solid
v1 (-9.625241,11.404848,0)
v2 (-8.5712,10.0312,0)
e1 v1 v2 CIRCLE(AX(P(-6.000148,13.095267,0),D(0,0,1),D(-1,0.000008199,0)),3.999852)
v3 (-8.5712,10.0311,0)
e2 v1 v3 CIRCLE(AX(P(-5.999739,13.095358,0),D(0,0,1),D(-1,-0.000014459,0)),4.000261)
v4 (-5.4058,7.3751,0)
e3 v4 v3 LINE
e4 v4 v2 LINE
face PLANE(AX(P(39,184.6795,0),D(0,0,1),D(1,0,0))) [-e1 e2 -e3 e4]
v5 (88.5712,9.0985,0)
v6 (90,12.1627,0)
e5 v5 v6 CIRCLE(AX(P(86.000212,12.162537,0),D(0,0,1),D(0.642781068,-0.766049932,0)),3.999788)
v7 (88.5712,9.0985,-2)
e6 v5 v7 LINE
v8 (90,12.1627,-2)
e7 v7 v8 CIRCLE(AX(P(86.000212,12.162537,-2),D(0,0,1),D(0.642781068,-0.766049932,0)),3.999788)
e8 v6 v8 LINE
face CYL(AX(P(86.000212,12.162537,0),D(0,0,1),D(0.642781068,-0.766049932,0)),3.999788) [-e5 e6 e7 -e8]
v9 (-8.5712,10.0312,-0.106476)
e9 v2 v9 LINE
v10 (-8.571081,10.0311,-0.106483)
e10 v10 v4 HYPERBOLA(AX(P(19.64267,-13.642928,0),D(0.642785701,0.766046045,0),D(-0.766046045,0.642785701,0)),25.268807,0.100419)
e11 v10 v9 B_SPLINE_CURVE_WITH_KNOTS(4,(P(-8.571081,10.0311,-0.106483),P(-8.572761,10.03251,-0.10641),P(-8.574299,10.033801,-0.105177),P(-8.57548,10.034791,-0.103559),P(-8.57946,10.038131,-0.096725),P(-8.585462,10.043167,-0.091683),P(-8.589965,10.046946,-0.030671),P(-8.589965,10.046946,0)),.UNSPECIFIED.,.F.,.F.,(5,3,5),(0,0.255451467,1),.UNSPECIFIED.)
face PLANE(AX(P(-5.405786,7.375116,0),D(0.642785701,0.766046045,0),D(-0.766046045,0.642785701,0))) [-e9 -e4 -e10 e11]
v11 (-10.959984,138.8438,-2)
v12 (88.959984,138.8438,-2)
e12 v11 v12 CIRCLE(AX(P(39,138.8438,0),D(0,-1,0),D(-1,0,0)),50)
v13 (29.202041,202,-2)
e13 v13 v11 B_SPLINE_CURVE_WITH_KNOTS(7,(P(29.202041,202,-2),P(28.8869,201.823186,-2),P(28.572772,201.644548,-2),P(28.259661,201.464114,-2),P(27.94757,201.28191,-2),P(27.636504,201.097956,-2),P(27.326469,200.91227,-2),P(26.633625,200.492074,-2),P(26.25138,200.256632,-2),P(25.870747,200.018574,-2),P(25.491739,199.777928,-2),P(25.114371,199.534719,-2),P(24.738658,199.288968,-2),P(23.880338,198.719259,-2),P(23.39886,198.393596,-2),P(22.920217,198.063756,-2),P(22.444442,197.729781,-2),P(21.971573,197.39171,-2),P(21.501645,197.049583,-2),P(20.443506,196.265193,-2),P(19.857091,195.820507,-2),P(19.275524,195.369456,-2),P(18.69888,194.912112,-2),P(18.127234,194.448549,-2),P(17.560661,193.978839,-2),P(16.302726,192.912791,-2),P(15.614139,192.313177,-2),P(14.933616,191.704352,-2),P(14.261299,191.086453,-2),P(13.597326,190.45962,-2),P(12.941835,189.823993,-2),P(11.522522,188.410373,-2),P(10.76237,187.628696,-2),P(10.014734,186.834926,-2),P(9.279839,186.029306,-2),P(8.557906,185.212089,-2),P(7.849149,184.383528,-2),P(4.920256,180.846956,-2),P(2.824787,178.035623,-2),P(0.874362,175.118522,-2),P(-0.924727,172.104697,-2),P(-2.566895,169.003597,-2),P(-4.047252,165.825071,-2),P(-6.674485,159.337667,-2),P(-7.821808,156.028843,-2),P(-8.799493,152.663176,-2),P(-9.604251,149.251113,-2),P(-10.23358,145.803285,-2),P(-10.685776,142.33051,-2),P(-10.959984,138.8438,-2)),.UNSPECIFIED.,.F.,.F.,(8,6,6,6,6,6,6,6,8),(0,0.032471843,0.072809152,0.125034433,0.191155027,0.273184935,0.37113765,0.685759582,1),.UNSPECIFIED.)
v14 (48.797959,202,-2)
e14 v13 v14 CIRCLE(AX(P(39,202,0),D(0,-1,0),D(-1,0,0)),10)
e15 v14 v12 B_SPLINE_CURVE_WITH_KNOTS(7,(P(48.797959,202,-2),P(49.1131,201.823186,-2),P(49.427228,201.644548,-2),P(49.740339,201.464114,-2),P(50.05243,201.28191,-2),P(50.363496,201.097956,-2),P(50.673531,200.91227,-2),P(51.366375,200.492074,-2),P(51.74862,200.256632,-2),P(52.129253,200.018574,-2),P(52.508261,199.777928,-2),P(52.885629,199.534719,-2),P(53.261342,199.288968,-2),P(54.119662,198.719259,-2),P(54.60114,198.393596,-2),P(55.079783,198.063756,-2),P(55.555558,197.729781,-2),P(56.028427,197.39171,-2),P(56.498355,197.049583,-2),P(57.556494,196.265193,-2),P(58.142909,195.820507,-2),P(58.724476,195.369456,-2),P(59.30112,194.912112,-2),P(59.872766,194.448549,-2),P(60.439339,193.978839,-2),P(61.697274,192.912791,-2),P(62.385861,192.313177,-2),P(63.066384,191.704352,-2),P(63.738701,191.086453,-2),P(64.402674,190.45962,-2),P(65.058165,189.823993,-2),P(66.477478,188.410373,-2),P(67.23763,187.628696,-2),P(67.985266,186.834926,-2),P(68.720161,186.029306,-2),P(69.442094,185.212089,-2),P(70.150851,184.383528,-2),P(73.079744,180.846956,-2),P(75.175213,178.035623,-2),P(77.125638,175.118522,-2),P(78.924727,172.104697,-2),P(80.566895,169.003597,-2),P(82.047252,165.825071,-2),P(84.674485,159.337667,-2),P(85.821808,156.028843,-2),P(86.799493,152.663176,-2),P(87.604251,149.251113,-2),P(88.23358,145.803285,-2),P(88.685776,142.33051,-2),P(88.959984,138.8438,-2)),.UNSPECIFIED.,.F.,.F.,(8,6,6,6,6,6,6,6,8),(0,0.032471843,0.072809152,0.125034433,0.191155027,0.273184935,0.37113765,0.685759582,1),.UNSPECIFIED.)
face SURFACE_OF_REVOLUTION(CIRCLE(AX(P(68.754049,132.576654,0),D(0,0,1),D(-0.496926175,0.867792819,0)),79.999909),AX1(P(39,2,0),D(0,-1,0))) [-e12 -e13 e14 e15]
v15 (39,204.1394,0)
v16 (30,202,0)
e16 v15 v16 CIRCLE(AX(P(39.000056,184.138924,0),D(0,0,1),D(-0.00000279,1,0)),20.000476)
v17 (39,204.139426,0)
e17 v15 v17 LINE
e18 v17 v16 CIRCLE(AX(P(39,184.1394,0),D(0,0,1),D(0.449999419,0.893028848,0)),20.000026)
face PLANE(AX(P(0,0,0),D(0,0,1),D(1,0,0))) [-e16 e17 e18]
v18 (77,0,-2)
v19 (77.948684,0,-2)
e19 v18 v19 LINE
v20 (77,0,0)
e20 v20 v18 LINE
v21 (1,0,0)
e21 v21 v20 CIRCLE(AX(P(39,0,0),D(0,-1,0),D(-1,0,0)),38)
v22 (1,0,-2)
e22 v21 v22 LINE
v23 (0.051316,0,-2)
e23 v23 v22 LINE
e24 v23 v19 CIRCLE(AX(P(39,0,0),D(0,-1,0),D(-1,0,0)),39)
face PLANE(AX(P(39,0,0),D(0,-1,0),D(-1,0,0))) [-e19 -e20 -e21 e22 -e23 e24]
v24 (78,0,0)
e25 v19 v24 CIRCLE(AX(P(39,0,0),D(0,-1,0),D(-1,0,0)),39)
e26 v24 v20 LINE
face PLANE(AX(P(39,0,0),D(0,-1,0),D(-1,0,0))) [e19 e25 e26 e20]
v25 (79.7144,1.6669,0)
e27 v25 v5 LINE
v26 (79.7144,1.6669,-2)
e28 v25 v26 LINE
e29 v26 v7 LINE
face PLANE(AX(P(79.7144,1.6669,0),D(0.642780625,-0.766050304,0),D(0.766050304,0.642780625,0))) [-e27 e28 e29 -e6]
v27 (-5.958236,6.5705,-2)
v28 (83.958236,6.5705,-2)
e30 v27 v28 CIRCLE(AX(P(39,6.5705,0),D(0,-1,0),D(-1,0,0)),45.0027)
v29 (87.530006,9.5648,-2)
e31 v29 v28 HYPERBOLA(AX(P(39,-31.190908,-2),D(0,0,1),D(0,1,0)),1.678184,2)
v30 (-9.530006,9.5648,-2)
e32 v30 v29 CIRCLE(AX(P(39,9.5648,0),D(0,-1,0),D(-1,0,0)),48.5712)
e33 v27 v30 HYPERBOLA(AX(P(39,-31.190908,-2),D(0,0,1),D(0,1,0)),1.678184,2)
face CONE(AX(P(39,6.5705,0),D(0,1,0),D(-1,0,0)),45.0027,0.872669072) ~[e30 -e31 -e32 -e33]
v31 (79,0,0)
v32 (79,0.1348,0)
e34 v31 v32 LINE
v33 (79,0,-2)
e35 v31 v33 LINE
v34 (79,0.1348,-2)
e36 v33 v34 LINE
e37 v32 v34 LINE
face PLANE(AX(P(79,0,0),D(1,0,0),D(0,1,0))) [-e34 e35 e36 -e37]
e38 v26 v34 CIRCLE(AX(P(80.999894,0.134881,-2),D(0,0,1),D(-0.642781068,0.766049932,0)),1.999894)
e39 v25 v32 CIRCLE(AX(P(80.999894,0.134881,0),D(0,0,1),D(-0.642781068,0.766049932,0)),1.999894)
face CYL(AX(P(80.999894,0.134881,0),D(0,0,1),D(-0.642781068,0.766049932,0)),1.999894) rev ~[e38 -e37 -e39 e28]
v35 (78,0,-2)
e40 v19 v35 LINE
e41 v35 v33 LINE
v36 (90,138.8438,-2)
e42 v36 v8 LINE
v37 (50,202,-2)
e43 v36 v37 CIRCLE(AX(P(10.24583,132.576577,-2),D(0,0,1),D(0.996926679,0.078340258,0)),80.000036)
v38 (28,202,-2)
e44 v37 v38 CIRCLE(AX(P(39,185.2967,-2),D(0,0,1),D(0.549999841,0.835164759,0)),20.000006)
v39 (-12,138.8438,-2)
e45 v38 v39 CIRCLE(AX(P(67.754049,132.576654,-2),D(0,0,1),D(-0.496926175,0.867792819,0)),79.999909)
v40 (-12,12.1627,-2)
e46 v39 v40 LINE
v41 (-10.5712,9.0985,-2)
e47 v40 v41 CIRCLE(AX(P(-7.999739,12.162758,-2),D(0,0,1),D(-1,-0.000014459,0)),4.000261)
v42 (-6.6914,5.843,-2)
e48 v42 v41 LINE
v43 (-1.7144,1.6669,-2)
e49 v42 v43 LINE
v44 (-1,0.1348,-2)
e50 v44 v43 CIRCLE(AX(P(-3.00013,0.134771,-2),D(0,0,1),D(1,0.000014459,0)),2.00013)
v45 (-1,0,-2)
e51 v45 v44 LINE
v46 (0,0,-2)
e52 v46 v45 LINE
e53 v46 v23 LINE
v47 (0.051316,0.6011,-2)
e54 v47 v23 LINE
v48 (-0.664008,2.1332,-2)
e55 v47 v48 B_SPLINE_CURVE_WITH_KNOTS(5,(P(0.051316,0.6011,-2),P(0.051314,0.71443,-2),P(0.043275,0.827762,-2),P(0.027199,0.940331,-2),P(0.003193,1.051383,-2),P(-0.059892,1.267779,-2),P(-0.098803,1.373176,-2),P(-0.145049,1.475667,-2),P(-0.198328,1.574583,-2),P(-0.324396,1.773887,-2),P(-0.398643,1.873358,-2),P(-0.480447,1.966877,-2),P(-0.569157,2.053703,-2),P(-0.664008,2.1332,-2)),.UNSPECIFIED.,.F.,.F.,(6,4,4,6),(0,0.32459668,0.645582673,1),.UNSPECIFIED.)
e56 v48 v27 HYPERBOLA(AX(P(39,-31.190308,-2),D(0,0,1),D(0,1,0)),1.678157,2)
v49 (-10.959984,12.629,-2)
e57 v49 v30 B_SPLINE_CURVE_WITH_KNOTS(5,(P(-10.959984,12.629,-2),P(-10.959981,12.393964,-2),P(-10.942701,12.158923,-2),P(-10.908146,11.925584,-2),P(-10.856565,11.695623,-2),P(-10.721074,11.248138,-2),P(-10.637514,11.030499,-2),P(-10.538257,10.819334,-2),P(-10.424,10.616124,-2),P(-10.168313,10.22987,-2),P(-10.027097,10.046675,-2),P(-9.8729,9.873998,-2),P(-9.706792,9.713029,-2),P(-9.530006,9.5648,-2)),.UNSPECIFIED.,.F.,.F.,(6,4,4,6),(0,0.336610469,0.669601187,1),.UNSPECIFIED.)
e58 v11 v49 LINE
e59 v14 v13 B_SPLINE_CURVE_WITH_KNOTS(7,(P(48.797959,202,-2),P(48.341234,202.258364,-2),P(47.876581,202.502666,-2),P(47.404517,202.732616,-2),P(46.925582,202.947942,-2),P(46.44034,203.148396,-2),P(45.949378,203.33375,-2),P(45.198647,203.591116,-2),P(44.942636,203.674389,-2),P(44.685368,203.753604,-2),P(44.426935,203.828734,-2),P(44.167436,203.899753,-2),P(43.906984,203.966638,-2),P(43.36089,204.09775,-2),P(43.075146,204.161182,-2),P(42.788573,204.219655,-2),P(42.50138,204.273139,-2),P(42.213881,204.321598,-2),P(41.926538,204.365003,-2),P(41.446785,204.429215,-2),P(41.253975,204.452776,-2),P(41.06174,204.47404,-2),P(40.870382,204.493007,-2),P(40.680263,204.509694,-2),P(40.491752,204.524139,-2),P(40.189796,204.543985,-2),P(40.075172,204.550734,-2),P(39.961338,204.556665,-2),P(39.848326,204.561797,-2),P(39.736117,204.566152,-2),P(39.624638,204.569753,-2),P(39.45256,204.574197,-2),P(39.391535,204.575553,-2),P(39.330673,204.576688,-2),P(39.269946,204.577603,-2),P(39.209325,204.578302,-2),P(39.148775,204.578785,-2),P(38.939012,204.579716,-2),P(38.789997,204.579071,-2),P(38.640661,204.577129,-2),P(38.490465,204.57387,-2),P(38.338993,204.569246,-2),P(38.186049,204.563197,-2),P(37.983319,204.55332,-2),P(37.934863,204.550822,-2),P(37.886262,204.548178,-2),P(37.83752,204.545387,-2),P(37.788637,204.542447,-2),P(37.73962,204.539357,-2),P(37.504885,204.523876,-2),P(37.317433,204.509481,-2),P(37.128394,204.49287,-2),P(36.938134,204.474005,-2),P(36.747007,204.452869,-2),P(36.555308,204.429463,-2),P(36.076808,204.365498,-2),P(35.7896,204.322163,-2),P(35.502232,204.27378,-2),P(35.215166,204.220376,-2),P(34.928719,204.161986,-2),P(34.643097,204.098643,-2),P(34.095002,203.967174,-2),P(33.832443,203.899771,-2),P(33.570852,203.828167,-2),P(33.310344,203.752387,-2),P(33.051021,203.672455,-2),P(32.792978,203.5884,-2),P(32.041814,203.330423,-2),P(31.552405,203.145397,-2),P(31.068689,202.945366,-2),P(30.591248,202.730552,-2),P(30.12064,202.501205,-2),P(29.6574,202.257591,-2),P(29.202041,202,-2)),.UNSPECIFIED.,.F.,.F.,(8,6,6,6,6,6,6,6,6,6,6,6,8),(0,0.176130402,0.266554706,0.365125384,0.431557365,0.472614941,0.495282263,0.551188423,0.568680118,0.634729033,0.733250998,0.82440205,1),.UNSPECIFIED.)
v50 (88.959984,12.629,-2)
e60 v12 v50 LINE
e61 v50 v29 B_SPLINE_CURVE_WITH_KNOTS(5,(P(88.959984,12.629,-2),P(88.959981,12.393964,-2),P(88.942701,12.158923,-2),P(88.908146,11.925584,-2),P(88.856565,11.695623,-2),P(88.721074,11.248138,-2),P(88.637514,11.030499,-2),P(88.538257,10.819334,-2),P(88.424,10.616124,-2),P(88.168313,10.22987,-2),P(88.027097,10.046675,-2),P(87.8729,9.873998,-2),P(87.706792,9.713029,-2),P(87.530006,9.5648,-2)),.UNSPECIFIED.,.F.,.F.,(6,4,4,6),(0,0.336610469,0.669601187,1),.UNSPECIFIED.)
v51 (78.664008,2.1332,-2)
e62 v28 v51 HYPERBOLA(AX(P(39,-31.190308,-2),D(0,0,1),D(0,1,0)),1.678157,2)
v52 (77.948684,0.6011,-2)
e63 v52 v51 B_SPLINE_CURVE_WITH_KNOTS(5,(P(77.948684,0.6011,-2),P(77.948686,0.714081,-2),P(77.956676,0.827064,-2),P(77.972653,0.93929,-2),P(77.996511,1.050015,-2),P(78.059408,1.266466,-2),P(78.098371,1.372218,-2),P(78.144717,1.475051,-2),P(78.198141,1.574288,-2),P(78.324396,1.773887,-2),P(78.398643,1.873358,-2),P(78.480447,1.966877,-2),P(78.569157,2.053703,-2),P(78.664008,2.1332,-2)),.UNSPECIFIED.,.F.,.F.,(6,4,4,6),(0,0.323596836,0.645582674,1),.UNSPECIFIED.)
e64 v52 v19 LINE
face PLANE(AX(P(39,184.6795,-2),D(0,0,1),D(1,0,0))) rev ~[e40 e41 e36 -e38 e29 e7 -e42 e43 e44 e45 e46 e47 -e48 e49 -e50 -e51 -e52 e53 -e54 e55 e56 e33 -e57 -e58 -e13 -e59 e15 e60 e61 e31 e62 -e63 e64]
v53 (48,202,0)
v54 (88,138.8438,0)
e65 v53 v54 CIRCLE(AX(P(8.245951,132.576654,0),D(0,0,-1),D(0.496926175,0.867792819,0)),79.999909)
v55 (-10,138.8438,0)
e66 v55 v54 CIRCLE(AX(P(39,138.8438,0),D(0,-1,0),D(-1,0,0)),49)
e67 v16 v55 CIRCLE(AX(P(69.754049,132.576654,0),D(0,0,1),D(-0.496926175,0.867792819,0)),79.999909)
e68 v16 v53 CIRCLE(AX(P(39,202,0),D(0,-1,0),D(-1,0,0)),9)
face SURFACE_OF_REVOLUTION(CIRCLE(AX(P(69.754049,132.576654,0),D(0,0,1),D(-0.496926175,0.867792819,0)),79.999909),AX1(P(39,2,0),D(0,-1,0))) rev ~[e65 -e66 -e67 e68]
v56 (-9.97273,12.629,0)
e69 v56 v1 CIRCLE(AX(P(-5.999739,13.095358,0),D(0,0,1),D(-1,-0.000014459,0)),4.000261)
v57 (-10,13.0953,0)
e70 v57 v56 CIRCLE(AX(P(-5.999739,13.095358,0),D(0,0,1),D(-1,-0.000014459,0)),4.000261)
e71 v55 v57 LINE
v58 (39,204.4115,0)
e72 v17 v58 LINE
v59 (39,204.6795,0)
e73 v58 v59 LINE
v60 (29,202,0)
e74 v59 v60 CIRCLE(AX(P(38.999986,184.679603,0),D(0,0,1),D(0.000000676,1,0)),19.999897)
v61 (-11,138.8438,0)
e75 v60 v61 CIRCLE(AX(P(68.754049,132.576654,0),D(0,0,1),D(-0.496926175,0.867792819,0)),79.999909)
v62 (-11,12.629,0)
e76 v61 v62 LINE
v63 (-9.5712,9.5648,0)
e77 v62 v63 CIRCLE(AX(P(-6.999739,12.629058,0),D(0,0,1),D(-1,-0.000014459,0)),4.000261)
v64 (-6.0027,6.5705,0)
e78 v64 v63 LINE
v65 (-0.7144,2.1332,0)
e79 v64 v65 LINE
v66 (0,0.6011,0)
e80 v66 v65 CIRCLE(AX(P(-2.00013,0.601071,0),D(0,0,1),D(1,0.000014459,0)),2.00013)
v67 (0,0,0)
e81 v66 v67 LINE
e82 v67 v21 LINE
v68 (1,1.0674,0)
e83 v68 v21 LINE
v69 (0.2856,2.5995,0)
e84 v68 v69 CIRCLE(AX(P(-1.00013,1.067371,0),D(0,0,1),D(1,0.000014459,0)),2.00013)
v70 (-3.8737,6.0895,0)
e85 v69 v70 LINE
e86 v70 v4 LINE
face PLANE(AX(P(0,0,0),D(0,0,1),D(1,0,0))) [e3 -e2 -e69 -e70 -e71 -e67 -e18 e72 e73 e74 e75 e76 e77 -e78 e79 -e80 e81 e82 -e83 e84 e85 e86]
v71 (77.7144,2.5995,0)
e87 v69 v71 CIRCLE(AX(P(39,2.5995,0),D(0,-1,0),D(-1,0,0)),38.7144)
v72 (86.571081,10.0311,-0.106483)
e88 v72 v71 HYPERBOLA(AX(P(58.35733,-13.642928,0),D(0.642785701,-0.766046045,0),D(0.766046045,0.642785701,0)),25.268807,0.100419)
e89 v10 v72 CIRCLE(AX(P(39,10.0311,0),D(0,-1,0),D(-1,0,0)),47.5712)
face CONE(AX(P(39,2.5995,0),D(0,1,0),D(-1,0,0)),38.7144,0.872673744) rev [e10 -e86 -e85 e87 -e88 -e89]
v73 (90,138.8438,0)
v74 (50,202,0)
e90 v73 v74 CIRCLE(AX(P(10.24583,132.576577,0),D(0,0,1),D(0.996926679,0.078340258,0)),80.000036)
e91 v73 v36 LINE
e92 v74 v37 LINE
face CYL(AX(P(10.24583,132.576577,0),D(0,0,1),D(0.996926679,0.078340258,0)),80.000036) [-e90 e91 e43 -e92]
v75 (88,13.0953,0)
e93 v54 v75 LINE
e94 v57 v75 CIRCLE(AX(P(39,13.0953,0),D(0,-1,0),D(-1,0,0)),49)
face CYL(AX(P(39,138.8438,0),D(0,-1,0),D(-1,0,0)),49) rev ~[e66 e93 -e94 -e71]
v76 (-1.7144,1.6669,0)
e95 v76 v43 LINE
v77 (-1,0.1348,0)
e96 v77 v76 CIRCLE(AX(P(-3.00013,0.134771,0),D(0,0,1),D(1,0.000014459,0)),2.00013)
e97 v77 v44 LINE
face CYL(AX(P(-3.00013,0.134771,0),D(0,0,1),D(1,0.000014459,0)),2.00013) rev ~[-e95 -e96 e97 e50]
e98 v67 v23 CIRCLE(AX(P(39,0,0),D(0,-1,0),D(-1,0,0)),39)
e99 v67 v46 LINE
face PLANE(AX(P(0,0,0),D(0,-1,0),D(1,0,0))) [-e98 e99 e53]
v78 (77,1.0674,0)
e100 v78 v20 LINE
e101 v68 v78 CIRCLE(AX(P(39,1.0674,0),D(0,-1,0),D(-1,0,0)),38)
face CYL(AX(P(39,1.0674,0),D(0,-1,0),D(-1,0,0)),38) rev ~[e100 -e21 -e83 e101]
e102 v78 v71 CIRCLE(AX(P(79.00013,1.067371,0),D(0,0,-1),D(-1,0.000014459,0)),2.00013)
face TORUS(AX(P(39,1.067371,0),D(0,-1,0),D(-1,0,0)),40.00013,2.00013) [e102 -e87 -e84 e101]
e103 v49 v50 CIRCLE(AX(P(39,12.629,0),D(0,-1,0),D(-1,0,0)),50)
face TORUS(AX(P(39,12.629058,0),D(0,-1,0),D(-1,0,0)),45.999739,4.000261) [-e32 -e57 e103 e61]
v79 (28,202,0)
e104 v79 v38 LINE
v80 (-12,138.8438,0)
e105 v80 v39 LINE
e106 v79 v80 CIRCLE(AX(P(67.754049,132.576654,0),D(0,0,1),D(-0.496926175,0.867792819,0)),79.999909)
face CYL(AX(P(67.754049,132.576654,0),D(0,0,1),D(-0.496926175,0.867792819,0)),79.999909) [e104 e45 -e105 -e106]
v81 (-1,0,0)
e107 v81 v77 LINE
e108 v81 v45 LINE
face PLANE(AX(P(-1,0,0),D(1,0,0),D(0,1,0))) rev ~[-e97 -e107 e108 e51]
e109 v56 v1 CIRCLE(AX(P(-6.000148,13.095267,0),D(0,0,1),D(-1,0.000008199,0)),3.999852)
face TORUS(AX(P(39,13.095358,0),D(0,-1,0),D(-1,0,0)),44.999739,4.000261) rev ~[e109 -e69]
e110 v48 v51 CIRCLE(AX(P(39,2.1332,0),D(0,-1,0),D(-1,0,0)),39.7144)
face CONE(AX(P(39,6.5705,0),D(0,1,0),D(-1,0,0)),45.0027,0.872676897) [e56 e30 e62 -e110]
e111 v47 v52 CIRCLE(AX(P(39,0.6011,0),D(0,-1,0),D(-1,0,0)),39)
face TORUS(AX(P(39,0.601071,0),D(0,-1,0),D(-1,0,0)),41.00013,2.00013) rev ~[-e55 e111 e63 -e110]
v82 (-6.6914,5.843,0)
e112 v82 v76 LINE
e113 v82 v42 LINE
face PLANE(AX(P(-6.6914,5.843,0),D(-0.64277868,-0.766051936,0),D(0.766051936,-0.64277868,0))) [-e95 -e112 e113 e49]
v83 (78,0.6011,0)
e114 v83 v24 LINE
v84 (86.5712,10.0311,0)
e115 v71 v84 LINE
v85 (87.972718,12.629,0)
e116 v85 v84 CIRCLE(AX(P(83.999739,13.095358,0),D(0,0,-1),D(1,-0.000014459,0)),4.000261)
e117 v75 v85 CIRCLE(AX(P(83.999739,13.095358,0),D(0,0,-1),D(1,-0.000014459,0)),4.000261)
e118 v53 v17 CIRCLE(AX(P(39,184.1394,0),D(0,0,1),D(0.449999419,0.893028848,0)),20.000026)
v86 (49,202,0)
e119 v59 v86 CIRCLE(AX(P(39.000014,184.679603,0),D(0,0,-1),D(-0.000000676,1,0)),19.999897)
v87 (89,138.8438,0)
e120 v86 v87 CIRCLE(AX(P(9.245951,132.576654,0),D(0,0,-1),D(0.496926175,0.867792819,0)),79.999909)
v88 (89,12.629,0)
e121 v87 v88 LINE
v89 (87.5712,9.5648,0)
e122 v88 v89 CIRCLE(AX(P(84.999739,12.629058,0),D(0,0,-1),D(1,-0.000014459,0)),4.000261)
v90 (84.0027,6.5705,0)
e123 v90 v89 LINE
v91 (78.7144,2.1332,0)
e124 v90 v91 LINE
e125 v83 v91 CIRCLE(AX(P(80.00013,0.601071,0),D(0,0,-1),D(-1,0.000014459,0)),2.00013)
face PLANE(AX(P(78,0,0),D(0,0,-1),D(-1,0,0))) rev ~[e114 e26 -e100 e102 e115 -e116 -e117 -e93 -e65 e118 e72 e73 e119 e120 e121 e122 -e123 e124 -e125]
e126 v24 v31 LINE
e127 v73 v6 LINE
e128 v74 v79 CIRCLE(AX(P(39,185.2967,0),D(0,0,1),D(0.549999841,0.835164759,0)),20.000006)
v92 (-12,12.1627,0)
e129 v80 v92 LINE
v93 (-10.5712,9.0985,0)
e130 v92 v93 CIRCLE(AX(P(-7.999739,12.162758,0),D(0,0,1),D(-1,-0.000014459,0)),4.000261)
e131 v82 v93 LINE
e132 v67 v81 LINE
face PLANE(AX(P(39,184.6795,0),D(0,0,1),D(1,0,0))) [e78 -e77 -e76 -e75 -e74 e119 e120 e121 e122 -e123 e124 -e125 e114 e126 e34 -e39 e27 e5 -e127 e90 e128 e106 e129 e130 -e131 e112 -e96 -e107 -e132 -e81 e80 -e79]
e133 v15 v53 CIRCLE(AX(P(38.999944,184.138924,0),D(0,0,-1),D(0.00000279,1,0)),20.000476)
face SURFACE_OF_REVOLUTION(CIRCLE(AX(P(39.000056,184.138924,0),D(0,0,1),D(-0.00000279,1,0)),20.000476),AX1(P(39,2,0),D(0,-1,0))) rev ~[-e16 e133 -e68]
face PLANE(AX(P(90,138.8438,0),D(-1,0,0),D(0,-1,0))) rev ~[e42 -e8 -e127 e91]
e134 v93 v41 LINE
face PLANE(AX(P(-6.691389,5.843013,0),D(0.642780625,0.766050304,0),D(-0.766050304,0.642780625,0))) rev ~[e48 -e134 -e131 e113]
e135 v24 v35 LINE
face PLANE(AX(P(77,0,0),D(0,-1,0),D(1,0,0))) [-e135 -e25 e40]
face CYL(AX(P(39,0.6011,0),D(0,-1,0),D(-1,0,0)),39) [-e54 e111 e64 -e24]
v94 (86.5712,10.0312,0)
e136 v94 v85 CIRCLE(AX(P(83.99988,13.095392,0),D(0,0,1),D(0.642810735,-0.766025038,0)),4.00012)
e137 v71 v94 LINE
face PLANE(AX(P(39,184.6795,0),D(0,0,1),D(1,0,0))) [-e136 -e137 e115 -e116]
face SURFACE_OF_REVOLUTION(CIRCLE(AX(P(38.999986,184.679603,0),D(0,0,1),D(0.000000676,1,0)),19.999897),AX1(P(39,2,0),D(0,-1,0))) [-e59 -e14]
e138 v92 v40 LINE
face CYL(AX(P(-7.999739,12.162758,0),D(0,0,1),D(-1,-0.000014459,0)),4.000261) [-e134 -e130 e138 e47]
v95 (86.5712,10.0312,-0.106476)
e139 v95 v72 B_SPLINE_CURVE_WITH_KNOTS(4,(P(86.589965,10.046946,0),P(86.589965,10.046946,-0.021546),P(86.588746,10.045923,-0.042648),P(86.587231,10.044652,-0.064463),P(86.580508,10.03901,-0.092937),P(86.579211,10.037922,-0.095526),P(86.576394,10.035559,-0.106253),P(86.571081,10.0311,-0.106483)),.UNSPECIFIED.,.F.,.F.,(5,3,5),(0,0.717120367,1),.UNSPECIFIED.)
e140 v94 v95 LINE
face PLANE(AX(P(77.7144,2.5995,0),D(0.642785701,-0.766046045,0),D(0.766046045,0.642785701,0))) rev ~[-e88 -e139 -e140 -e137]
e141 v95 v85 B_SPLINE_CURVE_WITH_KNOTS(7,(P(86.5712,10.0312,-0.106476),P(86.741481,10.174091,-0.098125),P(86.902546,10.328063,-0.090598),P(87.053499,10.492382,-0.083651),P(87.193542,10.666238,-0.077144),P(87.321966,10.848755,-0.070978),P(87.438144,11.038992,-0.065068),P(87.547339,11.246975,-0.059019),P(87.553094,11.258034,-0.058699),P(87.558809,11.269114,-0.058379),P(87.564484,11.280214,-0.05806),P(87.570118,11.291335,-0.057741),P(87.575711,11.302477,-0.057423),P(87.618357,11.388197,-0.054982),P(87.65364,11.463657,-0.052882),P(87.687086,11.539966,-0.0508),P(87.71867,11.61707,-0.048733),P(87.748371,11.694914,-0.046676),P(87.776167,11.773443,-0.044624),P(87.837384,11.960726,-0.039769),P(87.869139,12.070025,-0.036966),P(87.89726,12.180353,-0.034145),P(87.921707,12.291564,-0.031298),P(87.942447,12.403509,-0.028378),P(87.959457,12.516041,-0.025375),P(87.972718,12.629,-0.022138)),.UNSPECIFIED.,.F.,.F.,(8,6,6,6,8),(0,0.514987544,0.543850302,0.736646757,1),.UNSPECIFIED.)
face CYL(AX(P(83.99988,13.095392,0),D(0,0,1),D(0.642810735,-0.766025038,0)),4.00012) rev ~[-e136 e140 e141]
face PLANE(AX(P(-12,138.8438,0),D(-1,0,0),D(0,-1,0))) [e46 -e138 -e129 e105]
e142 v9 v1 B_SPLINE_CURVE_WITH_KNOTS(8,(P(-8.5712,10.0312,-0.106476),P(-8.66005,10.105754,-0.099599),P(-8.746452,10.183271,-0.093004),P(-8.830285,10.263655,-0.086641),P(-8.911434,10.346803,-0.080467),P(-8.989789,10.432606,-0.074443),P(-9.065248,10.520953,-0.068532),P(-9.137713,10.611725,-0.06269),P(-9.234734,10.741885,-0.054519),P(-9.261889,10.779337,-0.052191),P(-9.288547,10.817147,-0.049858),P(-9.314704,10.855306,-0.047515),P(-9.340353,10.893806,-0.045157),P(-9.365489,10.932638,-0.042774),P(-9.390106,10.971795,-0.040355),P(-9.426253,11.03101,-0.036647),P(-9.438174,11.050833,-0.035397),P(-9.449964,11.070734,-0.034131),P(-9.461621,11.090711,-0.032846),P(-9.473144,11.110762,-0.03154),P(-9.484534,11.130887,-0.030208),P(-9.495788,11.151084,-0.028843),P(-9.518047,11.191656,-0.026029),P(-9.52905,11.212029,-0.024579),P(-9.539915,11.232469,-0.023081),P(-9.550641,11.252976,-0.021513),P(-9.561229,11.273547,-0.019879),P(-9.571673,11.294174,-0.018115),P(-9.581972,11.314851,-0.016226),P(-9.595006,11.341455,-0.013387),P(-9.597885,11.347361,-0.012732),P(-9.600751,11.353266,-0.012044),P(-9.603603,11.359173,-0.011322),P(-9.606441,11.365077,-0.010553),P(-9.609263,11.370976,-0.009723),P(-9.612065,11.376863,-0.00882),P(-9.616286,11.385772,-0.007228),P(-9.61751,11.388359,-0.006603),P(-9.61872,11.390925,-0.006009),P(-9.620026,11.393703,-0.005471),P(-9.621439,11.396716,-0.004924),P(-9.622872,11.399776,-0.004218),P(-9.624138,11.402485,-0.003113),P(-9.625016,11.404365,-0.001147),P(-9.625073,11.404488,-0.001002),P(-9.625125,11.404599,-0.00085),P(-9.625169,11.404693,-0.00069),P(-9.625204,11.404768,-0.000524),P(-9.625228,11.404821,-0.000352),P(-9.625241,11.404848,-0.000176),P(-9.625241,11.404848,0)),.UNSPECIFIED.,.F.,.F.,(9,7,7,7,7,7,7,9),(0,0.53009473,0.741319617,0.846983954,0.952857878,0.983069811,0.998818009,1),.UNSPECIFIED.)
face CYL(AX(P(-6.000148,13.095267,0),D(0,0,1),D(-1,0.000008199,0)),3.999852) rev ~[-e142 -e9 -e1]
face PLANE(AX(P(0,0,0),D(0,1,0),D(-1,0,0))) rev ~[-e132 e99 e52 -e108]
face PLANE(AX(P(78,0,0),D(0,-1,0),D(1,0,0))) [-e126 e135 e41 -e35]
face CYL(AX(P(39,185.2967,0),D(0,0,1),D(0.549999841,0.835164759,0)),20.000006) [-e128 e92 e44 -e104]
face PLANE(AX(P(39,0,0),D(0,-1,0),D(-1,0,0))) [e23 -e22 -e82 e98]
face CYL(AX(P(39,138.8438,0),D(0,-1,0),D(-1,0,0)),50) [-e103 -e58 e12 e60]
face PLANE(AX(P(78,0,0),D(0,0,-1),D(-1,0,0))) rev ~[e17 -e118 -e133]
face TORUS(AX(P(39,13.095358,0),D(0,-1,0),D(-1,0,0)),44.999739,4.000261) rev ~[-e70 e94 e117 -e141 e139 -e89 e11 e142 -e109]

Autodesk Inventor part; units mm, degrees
ref_plane "YZ Plane" through (0, 0, 0) normal (1, 0, 0) x (0, 1, 0)
ref_plane "XZ Plane" through (0, 0, 0) normal (0, 1, 0) x (-1, 0, 0)
ref_plane "XY Plane" through (0, 0, 0) normal (0, 0, 1) x (1, 0, 0)
sketch "Sketch1" plane through (0, 0, 0) normal (0, 0, 1) x (1, 0, 0)
  line L0 (0, 0) -> (39, 0)
  line L1 (0, 0.6011) -> (0, 0)
  line L2 (1, 1.0674) -> (1, 0)
  line L3 (39, 2) -> (39, 202)
  line L4 (-10, 138.8438) -> (-10, 13.0953)
  line L5 (0.2856, 2.5995) -> (-8.5712, 10.0311)
  line L6 (1, 2) -> (17.3022, 2) construction
  line L7 (0, 2) -> (16.6045, 2) construction
  line L8 (-6.0027, 6.5705) -> (-0.7144, 2.1332)
  line L9 (-6.0027, 6.5705) -> (-9.5712, 9.5648)
  line L10 (-11, 138.8438) -> (-11, 12.629)
  arc A0 (-10, 13.0953) -> (-8.5712, 10.0311) centre (-6, 13.0953) ccw
  arc A1 (-11, 12.629) -> (-9.5712, 9.5648) centre (-7, 12.629) ccw
  arc A2 (29, 202) -> (-11, 138.8438) centre (68.7541, 132.5766) ccw
  arc A3 (30, 202) -> (-10, 138.8438) centre (69.7541, 132.5766) ccw
  line L11 (39, 204.4115) -> (39, 205.0334)
  line L12 (39, 2) -> (39, 0)
  arc A4 (1, 1.0674) -> (0.2856, 2.5995) centre (-1, 1.0674) ccw
  arc A5 (0, 0.6011) -> (-0.7144, 2.1332) centre (-2, 0.6011) ccw
  line L13 (0, 0) -> (-1, 0)
  line L14 (-5.4284, 4.7832) -> (-10.5712, 9.0985)
  line L15 (-5.4284, 4.7832) -> (-1.7144, 1.6669)
  line L16 (-1, 0) -> (-1, 0.1348)
  line L17 (-11, 138.8438) -> (-12, 138.8438)
  line L18 (-12, 138.8438) -> (-12, 12.1627)
  arc A6 (-12, 12.1627) -> (-10.5712, 9.0985) centre (-8, 12.1627) ccw
  arc A7 (-1, 0.1348) -> (-1.7144, 1.6669) centre (-3, 0.1348) ccw
  arc A8 (28, 202) -> (-12, 138.8438) centre (67.7541, 132.5766) ccw
  arc A9 (39, 205.2967) -> (28, 202) centre (39, 185.2967) ccw
  arc A10 (39, 204.6795) -> (29, 202) centre (39, 184.6795) ccw
  arc A11 (39, 204.1394) -> (30, 202) centre (39, 184.1394) ccw
  line L19 (39, 204.1394) -> (39, 205.2967)
  line L20 (78, 0.6011) -> (78, 0)
  line L21 (84.0027, 6.5705) -> (78.7144, 2.1332)
  line L22 (84.0027, 6.5705) -> (87.5712, 9.5648)
  line L23 (89, 138.8438) -> (89, 12.629)
  arc A12 (87.5712, 9.5648) -> (89, 12.629) centre (85, 12.629) ccw
  arc A13 (89, 138.8438) -> (49, 202) centre (9.2459, 132.5766) ccw
  arc A14 (78.7144, 2.1332) -> (78, 0.6011) centre (80, 0.6011) ccw
  line L24 (78, 0) -> (79, 0)
  line L25 (83.4284, 4.7832) -> (88.5712, 9.0985)
  line L26 (83.4284, 4.7832) -> (79.7144, 1.6669)
  line L27 (90, 138.8438) -> (90, 12.1627)
  arc A15 (88.5712, 9.0985) -> (90, 12.1627) centre (86, 12.1627) ccw
  arc A16 (79.7144, 1.6669) -> (79, 0.1348) centre (81, 0.1348) ccw
  arc A17 (90, 138.8438) -> (50, 202) centre (10.2459, 132.5766) ccw
  arc A18 (50, 202) -> (39, 205.2967) centre (39, 185.2967) ccw
  arc A19 (49, 202) -> (39, 204.6795) centre (39, 184.6795) ccw
  dimension "d4" = 39
  dimension "d5" = 38
  dimension "d8" = 140
  dimension "d13" = 4
  dimension "d14" = 4
  dimension "d15" = 10
  dimension "d16" = 80
  dimension "d17" = 1
  dimension "d18" = 80
  dimension "d23" = 2
  dimension "d24" = 1
  dimension "d26" = 1
  dimension "d27" = 4
  dimension "d28" = 2
  dimension "d29" = 1
  dimension "d30" = 80
  dimension "d32" = 20
  dimension "d35" = 20
  dimension "d36" = 20
revolve "Revolution1" add sketch "Sketch1" angle 180 about axis through (39, 2, 0) along (0, -1, 0) contours L1 A5 L8 L9 A1 L10 A2 A10 L11 L19 A11 A3 L4 A0 L5 A4 L2 L0
sketch "Sketch2" plane through (39, 184.6795, 0) normal (0, 0, 1) x (1, 0, 0)
  line L0 (-39, -184.6795) -> (-40, -184.6795)
  line L1 (-38.7144, -182.08) -> (-47.5712, -174.6483) projected
  line L2 (-42.8737, -178.59) -> (-44.4058, -177.3044)
  line L3 (-45.6914, -178.8365) -> (-40.7144, -183.0126)
  line L4 (-40.7144, -183.0126) -> (-49.5712, -175.581)
  line L5 (-40, -184.6795) -> (-40, -184.5447)
  line L6 (-51, -45.8357) -> (-51, -172.5168)
  arc A0 (11, 17.3205) -> (-11, 17.3205) centre (0, 0.6172) ccw
  arc A1 (-11, 17.3205) -> (-51, -45.8357) centre (28.7541, -52.1029) ccw
  arc A2 (-40, -184.5447) -> (-40.7144, -183.0126) centre (-42, -184.5447) ccw
  arc A3 (-51, -172.5168) -> (-49.5712, -175.581) centre (-47, -172.5168) ccw
  line L7 (-39, -184.6795) -> (39, -184.6795) projected
  line L8 (0, -184.6795) -> (0, -174.6483)
  line L9 (-47.5712, -174.6483) -> (47.5712, -174.6483) projected
  line L10 (39, -184.6795) -> (40, -184.6795)
  line L11 (40.7144, -183.0126) -> (49.5712, -175.581)
  arc A4 (40.7144, -183.0126) -> (40, -184.5447) centre (42, -184.5447) ccw
  arc A5 (49.5712, -175.581) -> (51, -172.5168) centre (47, -172.5168) ccw
  line L12 (40, -184.6795) -> (40, -184.5447)
  line L13 (51, -45.8357) -> (51, -172.5168)
  arc A6 (51, -45.8357) -> (11, 17.3205) centre (-28.7541, -52.1029) ccw
  line L14 (-50, -172.0505) -> (50, -172.0505) projected
  arc A7 (-10, 17.3205) -> (-50, -45.8357) centre (29.7541, -52.1029) ccw
  line L15 (40, -184.6795) -> (38, -184.6795)
  arc A8 (38.7144, -182.08) -> (38, -183.6121) centre (40, -183.6121) ccw projected
  line L16 (38, -183.6121) -> (38, -184.6795)
  line L17 (38.7144, -182.08) -> (47.5712, -174.6483)
  arc A9 (38.7144, -182.08) -> (38, -183.6121) centre (40, -183.6121) ccw
  line L18 (49, -45.8357) -> (49, -171.5842) projected
  line L19 (49, -171.5842) -> (49, -45.8357)
  arc A10 (47.5712, -174.6483) -> (49, -171.5842) centre (45, -171.5842) ccw projected
  arc A11 (47.5712, -174.6483) -> (49, -171.5842) centre (45, -171.5842) ccw
  line L20 (10, 17.3205) -> (9, 17.3205)
  arc A12 (49, -45.8357) -> (9, 17.3205) centre (-30.7541, -52.1029) ccw
  arc A13 (9, 17.3205) -> (-9, 17.3205) centre (0, -0.5401) ccw
  arc A14 (-9, 17.3205) -> (-49, -45.8357) centre (30.7541, -52.1029) ccw
  line L21 (-49, -171.5842) -> (-49, -45.8357) projected
  line L22 (-49, -45.8357) -> (-49, -171.5842)
  line L23 (-47.5712, -174.6483) -> (-38.7144, -182.08)
  line L24 (-39, -184.6795) -> (-38, -184.6795)
  line L25 (-38, -184.6795) -> (-38, -183.6121)
  arc A15 (-38, -183.6121) -> (-38.7144, -182.08) centre (-40, -183.6121) ccw
  arc A16 (-49, -171.5842) -> (-47.5712, -174.6483) centre (-45, -171.5842) ccw
  point P0 (48.5712, -175.1147)
  dimension "d38" = 1
  dimension "d43" = 1
  dimension "d44" = 1
  dimension "d45" = 20
  dimension "d46" = 80
  dimension "d47" = 2
  dimension "d48" = 4
  dimension "d49" = 80
  dimension "d52" = 80
  dimension "d57" = 2
  dimension "d58" = 4
  dimension "d59" = 1
  dimension "d60" = 80
  dimension "d61" = 20
  dimension "d62" = 1
  dimension "d63" = 20
  dimension "d64" = 2
  dimension "d65" = 80
  dimension "d66" = 1
  dimension "d67" = 2
  dimension "d68" = 4
extrude "Extrusion1" add sketch "Sketch2" against normal blind 2 contours L0 L5 A2 L3 L4 A3 L6 A1 A0 A6 L13 A5 L11 A4 L12 L10 L7 L16 A8 L17 A10 L18 A12 A13 A14 L21 A16 L1 A15 L25
properties part number "PAY-LOAD"
